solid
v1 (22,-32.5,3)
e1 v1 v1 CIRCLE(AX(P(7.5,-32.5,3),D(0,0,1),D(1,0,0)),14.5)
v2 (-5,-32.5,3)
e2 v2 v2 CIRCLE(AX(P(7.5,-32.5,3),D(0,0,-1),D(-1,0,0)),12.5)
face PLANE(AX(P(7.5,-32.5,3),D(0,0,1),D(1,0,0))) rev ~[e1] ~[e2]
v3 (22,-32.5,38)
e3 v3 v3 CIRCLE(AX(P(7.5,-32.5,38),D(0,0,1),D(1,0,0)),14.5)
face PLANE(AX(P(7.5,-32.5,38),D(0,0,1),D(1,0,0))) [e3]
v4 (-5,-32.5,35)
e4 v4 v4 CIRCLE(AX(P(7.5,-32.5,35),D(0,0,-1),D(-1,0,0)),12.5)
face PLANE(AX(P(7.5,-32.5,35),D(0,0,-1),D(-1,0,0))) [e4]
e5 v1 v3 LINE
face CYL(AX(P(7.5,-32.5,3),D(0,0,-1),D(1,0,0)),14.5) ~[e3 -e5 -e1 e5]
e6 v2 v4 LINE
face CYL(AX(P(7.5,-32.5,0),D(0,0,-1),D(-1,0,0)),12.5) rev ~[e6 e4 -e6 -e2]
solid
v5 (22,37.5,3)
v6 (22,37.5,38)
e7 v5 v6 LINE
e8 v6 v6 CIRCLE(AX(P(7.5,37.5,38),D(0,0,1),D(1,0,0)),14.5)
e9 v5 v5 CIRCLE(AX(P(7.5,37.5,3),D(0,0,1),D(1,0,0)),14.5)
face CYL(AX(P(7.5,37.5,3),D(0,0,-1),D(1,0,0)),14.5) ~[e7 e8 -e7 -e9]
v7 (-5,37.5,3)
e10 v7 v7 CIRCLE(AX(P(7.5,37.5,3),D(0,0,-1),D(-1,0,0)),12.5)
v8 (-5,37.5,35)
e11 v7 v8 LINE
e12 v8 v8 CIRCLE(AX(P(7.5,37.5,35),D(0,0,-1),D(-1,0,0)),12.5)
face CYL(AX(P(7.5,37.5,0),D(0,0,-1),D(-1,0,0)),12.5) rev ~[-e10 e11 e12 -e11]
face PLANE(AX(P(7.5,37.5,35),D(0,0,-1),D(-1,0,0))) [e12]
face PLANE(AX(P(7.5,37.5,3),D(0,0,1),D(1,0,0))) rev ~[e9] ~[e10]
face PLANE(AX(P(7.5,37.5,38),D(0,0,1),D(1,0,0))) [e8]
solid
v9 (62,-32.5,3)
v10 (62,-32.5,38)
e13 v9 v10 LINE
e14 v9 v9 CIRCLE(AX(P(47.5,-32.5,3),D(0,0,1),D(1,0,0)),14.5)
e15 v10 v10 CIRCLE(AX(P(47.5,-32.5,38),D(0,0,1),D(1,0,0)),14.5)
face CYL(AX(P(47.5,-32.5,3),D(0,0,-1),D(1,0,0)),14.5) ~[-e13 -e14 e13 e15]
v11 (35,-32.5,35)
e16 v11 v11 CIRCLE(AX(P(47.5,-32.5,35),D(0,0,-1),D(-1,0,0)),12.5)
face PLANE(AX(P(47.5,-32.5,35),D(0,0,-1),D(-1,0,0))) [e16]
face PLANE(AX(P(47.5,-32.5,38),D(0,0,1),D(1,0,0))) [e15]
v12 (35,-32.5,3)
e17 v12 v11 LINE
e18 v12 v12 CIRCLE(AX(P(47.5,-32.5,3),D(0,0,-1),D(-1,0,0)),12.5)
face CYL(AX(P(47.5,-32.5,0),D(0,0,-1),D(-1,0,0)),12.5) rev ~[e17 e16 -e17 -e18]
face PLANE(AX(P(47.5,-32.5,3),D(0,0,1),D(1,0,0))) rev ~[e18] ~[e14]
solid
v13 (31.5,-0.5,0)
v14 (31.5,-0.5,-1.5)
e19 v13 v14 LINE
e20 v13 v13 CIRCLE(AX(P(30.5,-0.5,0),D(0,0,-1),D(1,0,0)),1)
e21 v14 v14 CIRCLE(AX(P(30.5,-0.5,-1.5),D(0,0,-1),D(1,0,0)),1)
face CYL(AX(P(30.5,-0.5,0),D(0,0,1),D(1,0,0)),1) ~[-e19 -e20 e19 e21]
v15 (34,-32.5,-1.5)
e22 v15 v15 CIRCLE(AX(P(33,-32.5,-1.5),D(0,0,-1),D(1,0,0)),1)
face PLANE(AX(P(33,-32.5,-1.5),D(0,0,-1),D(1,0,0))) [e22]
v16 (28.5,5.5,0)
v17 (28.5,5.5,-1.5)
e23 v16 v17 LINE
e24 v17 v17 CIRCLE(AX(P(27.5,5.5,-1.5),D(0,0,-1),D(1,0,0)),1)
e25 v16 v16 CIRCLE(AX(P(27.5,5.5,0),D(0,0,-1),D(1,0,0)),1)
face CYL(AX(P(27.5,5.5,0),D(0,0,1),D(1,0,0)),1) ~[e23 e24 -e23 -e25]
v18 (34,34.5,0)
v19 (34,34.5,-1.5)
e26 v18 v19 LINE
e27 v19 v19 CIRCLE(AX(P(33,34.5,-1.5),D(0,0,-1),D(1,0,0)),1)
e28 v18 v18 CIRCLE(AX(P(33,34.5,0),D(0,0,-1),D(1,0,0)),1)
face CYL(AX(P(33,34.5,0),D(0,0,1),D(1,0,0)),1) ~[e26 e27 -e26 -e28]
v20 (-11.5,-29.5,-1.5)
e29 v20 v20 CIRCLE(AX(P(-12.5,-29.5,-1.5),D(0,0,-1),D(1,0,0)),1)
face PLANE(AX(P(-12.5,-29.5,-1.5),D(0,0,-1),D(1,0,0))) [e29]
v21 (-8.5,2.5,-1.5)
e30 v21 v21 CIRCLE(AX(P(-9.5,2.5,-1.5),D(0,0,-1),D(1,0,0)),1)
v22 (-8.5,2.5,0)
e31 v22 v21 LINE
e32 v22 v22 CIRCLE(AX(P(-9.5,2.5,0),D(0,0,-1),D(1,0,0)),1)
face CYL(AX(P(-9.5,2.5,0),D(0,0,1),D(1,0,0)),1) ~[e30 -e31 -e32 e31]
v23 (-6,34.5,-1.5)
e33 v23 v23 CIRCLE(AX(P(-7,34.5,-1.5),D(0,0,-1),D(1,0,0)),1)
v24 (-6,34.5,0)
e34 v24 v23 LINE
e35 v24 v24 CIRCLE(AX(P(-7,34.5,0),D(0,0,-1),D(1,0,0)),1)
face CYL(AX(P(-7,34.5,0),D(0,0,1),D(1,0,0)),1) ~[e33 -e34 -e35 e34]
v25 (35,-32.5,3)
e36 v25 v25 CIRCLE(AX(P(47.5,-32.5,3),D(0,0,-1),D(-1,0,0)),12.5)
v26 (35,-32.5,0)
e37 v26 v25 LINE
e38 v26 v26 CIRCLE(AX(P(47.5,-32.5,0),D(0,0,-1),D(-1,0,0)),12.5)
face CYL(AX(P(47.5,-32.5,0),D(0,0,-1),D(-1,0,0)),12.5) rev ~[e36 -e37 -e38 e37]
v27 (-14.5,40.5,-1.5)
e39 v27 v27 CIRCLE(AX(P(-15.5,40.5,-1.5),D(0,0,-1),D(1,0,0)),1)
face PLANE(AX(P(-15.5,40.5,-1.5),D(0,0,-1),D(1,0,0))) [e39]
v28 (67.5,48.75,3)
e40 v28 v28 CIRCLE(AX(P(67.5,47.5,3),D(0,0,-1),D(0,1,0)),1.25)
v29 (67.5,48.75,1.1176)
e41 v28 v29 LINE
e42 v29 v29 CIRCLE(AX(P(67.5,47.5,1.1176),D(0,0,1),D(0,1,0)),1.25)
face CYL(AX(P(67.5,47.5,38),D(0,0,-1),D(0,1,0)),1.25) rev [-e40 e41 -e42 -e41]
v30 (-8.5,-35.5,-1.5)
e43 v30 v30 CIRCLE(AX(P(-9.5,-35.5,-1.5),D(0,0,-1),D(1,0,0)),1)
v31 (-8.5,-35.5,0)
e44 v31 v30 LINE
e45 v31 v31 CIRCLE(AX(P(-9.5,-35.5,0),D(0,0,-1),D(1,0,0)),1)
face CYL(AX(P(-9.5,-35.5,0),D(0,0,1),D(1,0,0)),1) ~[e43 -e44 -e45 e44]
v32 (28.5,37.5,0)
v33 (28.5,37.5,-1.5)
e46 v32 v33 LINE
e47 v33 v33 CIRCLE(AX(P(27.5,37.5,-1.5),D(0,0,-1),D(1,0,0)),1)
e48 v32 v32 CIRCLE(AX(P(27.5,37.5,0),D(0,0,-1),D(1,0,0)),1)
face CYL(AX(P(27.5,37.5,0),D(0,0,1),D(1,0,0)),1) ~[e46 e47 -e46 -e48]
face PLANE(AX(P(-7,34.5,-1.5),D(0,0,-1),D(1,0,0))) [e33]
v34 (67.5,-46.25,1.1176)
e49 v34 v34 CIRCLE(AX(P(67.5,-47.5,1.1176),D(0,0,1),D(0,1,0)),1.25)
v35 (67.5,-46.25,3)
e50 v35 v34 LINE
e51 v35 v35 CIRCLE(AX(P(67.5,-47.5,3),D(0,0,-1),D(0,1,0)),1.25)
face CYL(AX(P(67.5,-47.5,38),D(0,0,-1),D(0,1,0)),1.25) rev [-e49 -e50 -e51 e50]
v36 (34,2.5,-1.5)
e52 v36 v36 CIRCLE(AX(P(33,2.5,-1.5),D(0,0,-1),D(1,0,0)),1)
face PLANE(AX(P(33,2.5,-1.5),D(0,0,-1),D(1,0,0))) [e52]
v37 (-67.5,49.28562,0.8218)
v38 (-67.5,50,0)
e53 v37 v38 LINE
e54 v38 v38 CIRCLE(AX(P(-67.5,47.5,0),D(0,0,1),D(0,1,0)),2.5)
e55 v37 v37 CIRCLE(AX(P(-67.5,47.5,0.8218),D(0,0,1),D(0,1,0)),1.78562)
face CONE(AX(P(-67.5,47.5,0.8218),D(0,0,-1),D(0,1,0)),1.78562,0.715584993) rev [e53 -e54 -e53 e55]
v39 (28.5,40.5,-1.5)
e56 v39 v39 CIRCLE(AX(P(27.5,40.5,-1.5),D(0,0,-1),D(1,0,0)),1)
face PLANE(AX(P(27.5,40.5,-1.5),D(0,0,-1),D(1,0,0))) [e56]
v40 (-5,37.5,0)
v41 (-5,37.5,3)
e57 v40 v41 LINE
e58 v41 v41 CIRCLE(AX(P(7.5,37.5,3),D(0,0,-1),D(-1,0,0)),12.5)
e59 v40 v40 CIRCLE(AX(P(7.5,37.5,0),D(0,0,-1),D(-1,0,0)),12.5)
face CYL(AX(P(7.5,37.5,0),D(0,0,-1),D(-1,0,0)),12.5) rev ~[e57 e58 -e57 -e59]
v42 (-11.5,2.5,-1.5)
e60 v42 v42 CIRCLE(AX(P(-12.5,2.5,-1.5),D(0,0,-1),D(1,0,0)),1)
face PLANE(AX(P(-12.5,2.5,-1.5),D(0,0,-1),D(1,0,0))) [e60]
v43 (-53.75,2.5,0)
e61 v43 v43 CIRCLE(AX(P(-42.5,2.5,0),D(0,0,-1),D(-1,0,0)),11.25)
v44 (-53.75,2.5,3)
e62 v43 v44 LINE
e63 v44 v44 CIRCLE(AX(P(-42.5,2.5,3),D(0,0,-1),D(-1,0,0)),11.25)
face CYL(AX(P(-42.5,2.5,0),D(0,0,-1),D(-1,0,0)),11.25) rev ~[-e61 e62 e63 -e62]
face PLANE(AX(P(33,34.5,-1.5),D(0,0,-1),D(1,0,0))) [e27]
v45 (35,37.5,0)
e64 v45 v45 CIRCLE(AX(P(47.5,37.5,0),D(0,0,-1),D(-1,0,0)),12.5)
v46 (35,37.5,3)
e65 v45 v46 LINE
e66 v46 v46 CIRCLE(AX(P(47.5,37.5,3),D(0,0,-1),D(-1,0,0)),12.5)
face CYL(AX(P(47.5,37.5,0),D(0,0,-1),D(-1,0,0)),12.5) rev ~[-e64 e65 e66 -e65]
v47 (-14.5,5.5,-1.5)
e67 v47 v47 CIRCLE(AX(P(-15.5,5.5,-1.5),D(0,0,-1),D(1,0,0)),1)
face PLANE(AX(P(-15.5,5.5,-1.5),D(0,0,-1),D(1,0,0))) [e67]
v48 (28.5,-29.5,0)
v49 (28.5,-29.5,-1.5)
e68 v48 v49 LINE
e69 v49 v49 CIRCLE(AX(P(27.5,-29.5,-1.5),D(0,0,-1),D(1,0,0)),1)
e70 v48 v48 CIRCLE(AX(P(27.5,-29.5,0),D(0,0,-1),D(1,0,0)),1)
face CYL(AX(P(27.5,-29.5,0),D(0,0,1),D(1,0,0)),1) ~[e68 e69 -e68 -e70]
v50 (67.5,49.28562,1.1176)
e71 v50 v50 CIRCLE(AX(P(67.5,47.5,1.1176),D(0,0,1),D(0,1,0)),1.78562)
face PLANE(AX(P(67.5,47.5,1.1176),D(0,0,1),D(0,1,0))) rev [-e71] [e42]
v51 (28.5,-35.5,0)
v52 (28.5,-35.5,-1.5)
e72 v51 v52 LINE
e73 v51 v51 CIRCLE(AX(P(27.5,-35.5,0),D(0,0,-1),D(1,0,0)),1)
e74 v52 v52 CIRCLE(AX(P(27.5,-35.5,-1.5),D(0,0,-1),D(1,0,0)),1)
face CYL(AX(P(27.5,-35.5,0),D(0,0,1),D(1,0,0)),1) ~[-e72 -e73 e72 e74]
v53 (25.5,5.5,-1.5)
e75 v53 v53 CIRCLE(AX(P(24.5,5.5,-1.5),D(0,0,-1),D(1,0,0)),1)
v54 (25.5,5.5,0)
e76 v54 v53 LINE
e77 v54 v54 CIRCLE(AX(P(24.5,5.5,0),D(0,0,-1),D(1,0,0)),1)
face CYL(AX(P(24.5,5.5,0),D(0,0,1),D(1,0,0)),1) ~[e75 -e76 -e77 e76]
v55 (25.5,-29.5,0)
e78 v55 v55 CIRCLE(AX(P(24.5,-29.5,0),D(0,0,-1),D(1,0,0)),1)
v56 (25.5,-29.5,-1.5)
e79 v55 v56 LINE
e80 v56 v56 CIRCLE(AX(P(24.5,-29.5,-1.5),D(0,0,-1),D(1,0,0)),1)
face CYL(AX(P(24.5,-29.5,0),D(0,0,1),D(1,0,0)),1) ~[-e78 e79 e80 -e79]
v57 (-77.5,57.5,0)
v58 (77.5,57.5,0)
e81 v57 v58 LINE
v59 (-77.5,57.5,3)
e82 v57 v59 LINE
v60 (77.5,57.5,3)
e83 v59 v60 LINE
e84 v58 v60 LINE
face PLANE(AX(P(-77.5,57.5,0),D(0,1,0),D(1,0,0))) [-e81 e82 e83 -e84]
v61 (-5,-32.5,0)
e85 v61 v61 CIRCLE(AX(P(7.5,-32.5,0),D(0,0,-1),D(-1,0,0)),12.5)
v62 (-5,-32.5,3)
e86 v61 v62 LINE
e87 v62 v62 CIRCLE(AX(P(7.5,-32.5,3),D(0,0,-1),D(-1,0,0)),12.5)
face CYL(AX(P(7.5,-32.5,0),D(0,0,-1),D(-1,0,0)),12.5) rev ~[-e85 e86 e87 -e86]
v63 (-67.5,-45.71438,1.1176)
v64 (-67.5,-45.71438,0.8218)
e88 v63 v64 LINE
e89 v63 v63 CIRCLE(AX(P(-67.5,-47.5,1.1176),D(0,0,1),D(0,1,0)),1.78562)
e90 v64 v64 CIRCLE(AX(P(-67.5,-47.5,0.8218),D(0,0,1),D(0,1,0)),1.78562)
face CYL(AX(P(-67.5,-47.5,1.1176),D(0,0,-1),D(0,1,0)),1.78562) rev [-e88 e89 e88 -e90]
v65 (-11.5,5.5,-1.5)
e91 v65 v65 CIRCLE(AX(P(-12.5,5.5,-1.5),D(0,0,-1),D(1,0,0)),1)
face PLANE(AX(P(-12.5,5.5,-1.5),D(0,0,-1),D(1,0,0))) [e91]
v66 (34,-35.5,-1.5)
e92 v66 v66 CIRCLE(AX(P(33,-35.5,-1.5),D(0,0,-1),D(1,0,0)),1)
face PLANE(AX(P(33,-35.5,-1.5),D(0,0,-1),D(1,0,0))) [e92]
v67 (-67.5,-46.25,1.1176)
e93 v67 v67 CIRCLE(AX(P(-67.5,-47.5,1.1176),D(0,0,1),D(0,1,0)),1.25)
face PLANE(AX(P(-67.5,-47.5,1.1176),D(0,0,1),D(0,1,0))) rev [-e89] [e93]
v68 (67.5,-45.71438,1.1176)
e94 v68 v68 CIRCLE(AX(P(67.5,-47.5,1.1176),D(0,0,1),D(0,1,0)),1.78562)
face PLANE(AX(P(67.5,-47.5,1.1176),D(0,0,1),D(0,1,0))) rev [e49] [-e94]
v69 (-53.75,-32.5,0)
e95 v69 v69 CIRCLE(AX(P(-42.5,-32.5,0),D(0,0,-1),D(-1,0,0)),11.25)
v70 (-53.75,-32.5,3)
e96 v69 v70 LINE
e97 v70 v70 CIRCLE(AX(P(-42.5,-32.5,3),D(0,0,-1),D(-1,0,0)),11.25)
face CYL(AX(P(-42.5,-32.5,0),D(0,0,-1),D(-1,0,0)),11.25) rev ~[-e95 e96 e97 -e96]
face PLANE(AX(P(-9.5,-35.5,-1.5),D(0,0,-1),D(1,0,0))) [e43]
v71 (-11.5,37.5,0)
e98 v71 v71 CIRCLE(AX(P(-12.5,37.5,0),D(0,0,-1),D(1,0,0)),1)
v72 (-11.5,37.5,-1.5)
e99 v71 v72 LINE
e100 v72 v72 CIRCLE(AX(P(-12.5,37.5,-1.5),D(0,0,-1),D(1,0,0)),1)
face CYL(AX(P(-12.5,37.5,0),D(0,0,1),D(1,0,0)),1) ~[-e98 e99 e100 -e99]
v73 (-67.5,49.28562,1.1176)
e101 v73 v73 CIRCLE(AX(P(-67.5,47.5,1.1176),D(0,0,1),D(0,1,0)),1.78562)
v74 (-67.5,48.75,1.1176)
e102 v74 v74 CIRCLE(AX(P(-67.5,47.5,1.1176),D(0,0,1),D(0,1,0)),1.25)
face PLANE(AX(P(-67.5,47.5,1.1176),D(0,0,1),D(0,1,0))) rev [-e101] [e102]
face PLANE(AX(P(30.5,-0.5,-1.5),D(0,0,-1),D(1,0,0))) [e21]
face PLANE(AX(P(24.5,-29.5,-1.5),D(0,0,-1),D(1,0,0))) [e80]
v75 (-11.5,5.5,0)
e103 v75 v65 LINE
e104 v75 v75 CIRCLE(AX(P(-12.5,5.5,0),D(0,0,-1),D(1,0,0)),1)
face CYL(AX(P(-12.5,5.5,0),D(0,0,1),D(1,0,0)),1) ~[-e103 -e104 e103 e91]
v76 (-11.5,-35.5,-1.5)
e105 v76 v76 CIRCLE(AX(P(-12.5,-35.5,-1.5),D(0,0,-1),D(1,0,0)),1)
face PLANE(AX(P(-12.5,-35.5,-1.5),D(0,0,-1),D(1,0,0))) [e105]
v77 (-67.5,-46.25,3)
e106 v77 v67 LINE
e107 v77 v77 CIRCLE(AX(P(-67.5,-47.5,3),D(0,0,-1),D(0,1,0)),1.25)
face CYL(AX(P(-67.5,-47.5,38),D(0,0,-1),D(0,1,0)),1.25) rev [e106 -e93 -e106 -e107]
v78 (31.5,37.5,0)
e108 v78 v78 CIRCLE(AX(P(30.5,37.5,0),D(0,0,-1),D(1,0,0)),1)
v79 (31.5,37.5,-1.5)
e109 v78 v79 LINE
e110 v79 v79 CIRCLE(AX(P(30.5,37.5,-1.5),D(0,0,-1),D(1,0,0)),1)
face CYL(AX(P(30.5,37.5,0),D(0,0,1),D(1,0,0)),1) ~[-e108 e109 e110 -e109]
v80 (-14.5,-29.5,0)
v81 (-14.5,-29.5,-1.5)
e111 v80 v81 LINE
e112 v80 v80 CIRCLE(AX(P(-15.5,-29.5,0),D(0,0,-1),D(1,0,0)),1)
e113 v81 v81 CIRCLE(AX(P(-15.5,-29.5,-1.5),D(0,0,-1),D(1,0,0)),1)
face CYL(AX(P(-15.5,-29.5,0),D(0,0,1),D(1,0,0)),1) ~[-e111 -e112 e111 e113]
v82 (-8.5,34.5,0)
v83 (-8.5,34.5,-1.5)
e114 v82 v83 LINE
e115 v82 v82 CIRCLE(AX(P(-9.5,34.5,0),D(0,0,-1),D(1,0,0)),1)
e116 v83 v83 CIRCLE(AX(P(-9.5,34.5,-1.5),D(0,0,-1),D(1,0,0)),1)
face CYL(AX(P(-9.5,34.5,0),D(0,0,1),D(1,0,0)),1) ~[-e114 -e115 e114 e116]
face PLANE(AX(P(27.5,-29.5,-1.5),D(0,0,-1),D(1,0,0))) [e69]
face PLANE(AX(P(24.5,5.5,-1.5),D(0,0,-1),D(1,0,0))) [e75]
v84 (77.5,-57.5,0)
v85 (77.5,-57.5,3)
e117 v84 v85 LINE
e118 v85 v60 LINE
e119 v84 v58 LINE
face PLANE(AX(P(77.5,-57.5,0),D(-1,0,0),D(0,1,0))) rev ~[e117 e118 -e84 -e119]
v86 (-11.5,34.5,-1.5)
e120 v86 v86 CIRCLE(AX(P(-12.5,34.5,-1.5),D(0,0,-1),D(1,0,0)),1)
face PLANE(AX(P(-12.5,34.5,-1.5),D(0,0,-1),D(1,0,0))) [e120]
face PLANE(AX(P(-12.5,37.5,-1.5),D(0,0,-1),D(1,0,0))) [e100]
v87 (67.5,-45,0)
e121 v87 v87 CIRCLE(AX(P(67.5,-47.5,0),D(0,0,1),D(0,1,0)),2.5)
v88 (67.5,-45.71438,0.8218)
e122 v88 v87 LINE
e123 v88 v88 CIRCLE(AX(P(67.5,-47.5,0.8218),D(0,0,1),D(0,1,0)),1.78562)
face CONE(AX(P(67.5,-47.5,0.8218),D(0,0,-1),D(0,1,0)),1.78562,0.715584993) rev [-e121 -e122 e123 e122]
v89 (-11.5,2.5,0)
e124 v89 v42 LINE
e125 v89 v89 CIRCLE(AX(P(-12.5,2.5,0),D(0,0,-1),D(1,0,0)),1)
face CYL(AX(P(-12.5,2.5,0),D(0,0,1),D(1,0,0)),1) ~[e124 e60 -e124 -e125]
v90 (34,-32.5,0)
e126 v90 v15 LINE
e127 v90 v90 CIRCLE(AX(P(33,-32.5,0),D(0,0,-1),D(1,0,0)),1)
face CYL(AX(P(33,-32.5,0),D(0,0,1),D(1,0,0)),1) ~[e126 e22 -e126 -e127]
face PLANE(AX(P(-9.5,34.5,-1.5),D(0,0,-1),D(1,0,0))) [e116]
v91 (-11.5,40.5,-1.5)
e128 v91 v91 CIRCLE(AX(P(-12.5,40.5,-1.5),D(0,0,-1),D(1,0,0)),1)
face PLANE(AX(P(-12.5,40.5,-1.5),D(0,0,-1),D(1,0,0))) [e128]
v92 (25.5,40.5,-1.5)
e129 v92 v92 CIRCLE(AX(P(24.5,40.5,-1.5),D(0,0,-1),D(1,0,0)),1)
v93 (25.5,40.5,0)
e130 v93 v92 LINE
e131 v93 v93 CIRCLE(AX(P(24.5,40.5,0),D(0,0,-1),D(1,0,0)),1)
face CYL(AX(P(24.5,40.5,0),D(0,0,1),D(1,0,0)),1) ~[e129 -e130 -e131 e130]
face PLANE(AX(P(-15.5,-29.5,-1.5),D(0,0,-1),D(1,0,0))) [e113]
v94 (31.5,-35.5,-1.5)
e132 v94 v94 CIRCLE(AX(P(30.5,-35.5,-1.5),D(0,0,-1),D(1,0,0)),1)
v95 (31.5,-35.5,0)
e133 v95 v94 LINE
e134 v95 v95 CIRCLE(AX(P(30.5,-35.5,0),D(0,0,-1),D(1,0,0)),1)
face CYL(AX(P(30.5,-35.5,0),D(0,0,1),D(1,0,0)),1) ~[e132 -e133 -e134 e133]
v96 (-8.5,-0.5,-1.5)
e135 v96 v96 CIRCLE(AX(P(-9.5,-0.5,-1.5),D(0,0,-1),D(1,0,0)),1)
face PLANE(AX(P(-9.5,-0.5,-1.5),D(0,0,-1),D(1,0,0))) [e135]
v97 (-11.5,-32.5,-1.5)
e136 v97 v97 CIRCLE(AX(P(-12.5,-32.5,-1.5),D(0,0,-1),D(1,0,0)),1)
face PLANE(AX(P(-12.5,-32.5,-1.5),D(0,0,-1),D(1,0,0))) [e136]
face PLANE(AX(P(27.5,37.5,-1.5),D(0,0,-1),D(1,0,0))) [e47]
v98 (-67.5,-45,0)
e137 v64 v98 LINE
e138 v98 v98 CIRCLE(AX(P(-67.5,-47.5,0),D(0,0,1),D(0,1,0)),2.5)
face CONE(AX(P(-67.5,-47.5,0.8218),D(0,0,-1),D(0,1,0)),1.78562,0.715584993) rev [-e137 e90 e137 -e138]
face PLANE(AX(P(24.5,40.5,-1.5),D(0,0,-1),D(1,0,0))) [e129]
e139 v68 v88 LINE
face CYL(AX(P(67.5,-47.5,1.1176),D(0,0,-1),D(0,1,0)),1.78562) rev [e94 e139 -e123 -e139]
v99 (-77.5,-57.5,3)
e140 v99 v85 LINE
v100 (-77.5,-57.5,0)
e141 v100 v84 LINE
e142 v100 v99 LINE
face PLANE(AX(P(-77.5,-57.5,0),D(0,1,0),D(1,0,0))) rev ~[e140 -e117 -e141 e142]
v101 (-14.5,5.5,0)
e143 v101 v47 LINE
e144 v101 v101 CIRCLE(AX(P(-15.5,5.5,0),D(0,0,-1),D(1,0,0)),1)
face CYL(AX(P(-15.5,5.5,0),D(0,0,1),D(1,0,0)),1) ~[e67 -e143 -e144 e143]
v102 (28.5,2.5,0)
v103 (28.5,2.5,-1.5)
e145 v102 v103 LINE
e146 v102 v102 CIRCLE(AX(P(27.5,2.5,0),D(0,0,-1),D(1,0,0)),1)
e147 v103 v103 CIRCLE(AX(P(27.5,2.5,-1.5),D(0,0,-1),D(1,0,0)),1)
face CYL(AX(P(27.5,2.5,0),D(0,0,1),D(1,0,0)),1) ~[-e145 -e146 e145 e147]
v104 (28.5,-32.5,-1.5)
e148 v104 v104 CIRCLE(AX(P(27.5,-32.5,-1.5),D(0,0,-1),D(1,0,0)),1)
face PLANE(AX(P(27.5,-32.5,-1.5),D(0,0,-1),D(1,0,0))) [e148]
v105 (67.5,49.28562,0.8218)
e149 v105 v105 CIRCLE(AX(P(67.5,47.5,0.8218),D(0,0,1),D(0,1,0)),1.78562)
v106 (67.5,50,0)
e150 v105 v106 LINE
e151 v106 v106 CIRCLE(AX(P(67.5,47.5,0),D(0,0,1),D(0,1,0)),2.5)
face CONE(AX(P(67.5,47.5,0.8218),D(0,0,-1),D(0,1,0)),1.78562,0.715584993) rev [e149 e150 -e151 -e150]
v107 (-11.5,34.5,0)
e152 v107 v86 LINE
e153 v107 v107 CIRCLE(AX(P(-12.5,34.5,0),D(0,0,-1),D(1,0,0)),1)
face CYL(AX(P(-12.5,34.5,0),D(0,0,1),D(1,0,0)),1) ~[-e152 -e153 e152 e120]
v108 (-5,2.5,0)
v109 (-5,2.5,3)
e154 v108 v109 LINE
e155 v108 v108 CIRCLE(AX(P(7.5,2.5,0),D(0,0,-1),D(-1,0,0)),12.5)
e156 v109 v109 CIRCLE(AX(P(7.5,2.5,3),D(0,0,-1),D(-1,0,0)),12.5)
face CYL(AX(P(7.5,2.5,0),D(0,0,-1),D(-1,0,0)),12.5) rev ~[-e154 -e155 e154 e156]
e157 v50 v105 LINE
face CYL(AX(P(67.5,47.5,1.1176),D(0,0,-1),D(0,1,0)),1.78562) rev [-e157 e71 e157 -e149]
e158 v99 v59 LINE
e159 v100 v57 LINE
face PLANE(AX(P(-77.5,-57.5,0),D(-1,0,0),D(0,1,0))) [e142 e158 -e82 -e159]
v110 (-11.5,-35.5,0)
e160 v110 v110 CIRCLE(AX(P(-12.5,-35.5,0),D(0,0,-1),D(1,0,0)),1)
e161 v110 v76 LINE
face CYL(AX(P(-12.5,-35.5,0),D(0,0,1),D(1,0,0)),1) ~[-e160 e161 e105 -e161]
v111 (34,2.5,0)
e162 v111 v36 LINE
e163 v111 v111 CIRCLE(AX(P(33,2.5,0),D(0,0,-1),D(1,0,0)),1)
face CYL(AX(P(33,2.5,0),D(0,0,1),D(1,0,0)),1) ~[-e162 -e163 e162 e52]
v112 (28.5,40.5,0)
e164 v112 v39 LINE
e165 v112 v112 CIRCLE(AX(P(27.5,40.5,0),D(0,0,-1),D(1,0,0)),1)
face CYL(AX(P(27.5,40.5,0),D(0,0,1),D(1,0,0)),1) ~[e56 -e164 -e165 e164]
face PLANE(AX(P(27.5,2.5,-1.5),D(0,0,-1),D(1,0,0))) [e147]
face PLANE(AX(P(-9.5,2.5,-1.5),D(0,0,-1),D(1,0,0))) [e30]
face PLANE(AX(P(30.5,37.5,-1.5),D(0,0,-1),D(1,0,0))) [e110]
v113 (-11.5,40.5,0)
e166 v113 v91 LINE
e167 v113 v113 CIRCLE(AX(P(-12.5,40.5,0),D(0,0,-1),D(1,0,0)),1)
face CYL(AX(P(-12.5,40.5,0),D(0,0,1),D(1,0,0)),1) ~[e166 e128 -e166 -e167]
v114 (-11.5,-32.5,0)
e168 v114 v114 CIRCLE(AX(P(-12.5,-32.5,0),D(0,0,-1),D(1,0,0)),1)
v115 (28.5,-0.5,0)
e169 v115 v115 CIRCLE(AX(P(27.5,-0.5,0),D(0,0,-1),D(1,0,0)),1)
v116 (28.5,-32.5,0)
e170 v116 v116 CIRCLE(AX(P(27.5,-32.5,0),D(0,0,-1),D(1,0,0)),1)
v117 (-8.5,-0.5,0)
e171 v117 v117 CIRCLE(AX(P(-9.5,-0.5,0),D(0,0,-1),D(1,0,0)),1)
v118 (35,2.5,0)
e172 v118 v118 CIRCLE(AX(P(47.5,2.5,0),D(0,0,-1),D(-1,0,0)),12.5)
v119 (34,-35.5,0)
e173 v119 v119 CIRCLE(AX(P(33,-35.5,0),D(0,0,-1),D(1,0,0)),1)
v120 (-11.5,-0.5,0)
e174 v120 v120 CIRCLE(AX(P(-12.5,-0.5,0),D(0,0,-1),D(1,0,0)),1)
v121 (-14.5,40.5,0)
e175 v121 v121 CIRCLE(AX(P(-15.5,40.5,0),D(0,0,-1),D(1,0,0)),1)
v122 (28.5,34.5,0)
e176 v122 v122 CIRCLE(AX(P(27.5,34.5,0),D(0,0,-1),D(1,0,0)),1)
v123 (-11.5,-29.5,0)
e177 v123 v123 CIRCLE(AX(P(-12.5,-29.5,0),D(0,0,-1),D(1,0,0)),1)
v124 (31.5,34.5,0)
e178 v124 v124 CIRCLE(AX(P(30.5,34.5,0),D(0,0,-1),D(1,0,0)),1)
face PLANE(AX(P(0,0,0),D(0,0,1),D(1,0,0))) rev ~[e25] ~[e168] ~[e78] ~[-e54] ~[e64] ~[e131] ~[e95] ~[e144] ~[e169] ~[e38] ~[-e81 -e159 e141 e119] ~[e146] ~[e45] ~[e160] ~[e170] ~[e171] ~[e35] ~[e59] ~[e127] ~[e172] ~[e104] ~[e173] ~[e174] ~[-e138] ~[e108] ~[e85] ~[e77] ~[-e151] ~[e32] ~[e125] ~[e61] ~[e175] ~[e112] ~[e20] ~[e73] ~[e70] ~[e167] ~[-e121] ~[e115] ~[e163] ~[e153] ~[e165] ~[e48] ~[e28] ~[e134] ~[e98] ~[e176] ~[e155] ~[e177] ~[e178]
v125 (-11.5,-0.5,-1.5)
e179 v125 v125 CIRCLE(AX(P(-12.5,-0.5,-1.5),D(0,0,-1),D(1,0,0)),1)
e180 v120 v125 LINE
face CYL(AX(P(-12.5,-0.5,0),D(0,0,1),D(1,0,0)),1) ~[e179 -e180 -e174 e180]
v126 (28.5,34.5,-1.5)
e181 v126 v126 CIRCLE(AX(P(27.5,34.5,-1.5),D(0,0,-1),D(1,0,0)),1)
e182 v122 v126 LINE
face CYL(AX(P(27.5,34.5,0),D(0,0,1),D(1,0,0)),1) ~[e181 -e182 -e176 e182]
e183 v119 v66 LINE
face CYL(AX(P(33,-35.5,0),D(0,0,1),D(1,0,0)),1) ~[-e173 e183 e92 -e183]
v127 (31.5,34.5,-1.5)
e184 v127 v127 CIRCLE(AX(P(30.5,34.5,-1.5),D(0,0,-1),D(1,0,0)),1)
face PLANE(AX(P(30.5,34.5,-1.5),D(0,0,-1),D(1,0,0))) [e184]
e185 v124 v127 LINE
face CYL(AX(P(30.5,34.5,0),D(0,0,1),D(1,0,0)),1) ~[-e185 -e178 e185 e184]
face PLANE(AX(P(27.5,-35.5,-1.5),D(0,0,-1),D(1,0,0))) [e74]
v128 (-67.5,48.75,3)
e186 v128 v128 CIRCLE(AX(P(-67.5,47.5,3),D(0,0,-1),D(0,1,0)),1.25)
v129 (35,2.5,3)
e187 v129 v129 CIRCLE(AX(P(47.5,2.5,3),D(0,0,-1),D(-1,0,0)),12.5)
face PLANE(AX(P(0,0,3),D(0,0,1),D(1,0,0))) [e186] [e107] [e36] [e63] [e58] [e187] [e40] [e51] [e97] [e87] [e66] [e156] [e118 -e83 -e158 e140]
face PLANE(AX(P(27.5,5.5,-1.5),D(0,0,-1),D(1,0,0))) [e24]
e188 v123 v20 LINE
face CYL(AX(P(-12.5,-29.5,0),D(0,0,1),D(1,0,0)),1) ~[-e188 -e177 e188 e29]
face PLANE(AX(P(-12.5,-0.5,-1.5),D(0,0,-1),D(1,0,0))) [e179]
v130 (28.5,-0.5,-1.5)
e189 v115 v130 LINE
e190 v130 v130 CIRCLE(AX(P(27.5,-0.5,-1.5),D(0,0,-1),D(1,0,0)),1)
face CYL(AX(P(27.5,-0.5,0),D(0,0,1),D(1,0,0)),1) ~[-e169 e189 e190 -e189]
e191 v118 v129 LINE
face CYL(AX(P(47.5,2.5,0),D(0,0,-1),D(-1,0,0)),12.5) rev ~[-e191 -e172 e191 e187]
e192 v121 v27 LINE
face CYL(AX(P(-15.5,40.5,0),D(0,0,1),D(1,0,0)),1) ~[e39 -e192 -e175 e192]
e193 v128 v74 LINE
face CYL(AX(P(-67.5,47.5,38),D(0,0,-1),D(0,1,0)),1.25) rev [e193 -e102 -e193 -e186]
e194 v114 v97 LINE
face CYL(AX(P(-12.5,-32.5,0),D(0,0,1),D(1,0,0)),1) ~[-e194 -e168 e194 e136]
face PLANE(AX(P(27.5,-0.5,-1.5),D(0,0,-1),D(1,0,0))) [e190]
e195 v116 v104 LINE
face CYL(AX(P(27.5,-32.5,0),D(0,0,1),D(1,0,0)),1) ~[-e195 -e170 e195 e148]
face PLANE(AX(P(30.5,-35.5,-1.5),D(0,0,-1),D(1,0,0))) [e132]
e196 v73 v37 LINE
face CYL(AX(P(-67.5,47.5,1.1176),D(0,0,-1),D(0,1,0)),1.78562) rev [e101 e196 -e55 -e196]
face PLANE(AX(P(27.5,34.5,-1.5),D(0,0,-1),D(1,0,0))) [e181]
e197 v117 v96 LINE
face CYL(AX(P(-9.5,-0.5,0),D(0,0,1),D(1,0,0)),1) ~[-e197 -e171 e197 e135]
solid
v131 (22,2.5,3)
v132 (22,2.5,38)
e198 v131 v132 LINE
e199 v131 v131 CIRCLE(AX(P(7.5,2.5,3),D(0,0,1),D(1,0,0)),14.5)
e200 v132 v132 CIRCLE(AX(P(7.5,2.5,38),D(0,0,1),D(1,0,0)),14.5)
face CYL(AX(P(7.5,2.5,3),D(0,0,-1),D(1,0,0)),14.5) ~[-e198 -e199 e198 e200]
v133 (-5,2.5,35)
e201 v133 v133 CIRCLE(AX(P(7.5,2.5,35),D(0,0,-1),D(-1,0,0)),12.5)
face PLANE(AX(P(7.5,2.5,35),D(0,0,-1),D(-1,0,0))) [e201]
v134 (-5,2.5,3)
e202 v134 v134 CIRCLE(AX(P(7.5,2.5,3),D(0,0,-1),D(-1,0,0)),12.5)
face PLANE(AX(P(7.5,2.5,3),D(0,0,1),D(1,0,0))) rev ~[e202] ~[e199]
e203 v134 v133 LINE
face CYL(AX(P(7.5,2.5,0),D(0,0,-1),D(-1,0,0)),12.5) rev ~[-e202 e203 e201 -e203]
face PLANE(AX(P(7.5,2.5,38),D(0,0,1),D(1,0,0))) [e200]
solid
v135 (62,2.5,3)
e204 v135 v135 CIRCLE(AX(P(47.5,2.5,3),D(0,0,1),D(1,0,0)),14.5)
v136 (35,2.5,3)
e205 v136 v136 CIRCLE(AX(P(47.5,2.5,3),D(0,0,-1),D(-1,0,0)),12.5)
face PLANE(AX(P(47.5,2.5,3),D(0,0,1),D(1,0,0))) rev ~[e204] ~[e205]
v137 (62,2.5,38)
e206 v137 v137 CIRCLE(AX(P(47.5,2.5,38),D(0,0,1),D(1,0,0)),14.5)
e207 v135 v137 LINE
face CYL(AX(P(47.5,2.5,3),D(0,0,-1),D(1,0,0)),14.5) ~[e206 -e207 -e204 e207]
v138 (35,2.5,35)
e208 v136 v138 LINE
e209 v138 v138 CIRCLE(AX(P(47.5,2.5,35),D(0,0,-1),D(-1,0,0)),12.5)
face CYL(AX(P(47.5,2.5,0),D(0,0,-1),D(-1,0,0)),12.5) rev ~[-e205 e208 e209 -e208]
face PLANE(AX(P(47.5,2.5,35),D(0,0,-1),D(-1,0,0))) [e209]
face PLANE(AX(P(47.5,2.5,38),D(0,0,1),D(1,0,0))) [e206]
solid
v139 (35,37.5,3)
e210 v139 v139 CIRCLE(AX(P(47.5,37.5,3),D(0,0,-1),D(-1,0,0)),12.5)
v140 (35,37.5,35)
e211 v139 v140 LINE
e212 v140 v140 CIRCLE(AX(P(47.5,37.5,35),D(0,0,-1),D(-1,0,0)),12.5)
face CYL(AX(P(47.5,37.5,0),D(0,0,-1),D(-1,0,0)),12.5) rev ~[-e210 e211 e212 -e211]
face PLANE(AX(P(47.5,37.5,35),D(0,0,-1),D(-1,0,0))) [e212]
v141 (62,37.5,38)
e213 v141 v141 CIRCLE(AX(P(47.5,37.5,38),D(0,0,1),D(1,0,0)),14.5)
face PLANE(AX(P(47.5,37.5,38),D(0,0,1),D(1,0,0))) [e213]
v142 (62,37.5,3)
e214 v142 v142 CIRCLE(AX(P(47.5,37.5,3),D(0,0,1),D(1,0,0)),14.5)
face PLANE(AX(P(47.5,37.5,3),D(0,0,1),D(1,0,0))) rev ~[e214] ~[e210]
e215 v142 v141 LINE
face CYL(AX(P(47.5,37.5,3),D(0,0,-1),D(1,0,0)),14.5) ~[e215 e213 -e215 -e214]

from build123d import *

# Parameters (mm, degrees)
ESBO_O1_W                                    = 155
ESBO_O1_H                                    = 115
RESSALTO_EXTRUS_O1_DEPTH                     = 3
ESBO_O12_R                                   = 14.5
RESSALTO_EXTRUS_O14_DEPTH                    = 35
RESSALTO_EXTRUS_O14_2_DEPTH                  = 35
RESSALTO_EXTRUS_O14_3_DEPTH                  = 35
RESSALTO_EXTRUS_O14_4_DEPTH                  = 35
RESSALTO_EXTRUS_O14_5_DEPTH                  = 35
RESSALTO_EXTRUS_O14_6_DEPTH                  = 35
ESBO_O11_R                                   = 12.5
CORTE_EXTRUS_O8_DEPTH                        = 35
ESBO_O11_5_R                                 = 12.5
CORTE_EXTRUS_O9_DEPTH                        = 35
REBAIXO_PARA_PARAFUSO_DE_M_QUINA_COM_2_COUNT = 2
REBAIXO_PARA_PARAFUSO_DE_M_QUINA_COM_2_PITCH = 95
REBAIXO_PARA_PARAFUSO_DE_M_QUINA_COM_3_COUNT = 2
REBAIXO_PARA_PARAFUSO_DE_M_QUINA_COM_3_PITCH = 165.075740192
REBAIXO_PARA_PARAFUSO_DE_M_QUINA_COM_4_COUNT = 2
REBAIXO_PARA_PARAFUSO_DE_M_QUINA_COM_4_PITCH = 135
ESBO_O13_R                                   = 11.25
BOT_ES_DEPTH                                 = 3
ESBO_O29_R                                   = 1
PINO_1_DEPTH                                 = 1.5
ESBO_O28_R                                   = 1
PINO_2_DEPTH                                 = 1.5
SKETCH_3_R                                   = 1
PINO_3_DEPTH                                 = 1.5
SKETCH_4_R                                   = 1
PINO_4_DEPTH                                 = 1.5
SKETCH_5_R                                   = 1
PINO_5_DEPTH                                 = 1.5
SKETCH_6_R                                   = 1
PINO_6_DEPTH                                 = 1.5


with BuildPart() as part:
    # Esboço1 → Ressalto-extrusão1 (new body)
    with BuildSketch(Plane.XY):
        Rectangle(ESBO_O1_W, ESBO_O1_H)
    extrude(amount=RESSALTO_EXTRUS_O1_DEPTH)


with BuildPart() as body_2:
    # Esboço12 → Ressalto-extrusão14 (new body)
    with BuildSketch(Plane.XY.offset(3)):
        with Locations((7.5, 37.5)):
            Circle(ESBO_O12_R)
    extrude(amount=RESSALTO_EXTRUS_O14_DEPTH)


with BuildPart() as body_3:
    # Esboço12 → Ressalto-extrus_o14 2 (new body)
    with BuildSketch(Plane.XY.offset(3)):
        with Locations((47.5, 37.5)):
            Circle(ESBO_O12_R)
    extrude(amount=RESSALTO_EXTRUS_O14_2_DEPTH)


with BuildPart() as body_4:
    # Esboço12 → Ressalto-extrus_o14 3 (new body)
    with BuildSketch(Plane.XY.offset(3)):
        with Locations((7.5, 2.5)):
            Circle(ESBO_O12_R)
    extrude(amount=RESSALTO_EXTRUS_O14_3_DEPTH)


with BuildPart() as body_5:
    # Esboço12 → Ressalto-extrus_o14 4 (new body)
    with BuildSketch(Plane.XY.offset(3)):
        with Locations((47.5, 2.5)):
            Circle(ESBO_O12_R)
    extrude(amount=RESSALTO_EXTRUS_O14_4_DEPTH)


with BuildPart() as body_6:
    # Esboço12 → Ressalto-extrus_o14 5 (new body)
    with BuildSketch(Plane.XY.offset(3)):
        with Locations((47.5, -32.5)):
            Circle(ESBO_O12_R)
    extrude(amount=RESSALTO_EXTRUS_O14_5_DEPTH)


with BuildPart() as body_7:
    # Esboço12 → Ressalto-extrus_o14 6 (new body)
    with BuildSketch(Plane.XY.offset(3)):
        with Locations((7.5, -32.5)):
            Circle(ESBO_O12_R)
    extrude(amount=RESSALTO_EXTRUS_O14_6_DEPTH)


with BuildPart() as corte_extrus_o8_tool:
    # Esboço11 → Corte-extrusão8 (new body)
    with BuildSketch(Plane(origin=(0, 0, 0), x_dir=(-1, 0, 0), z_dir=(0, 0, -1))):
        with Locations((-47.5, 37.5)):
            Circle(ESBO_O11_R)
    extrude(amount=-CORTE_EXTRUS_O8_DEPTH)


with BuildPart() as part_1:
    add(part.part)

    # Corte-extrusão8: cut by corte_extrus_o8_tool
    add(corte_extrus_o8_tool.part, mode=Mode.SUBTRACT)


with BuildPart() as body_3_1:
    add(body_3.part)

    # Corte-extrusão8: cut by corte_extrus_o8_tool
    add(corte_extrus_o8_tool.part, mode=Mode.SUBTRACT)


with BuildPart() as corte_extrus_o9_tool:
    # Esboço11<5> → Corte-extrusão9 (new body)
    with BuildSketch(Plane(origin=(0, 0, 0), x_dir=(-1, 0, 0), z_dir=(0, 0, -1))):
        with Locations((-7.5, -32.5)):
            Circle(ESBO_O11_5_R)
        with Locations((-47.5, -32.5)):
            Circle(ESBO_O11_5_R)
        with Locations((-47.5, 2.5)):
            Circle(ESBO_O11_5_R)
        with Locations((-7.5, 37.5)):
            Circle(ESBO_O11_5_R)
        with Locations((-7.5, 2.5)):
            Circle(ESBO_O11_5_R)
    extrude(amount=-CORTE_EXTRUS_O9_DEPTH)


with BuildPart() as part_2:
    add(part_1.part)

    # Corte-extrusão9: cut by corte_extrus_o9_tool
    add(corte_extrus_o9_tool.part, mode=Mode.SUBTRACT)

    # Esboço15 → Rebaixo para parafuso de máquina com cabeça panela de #01 (revolve, cut)
    with BuildSketch(Plane(origin=(-67.5, -47.5, 0), x_dir=(0, 1, 0), z_dir=(1, 0, 0))):
        Polygon((0, 0), (0, 38), (1.25, 38), (1.25, 1.1176), (1.78562, 1.1176), (1.78562, 0.821800183), (2.5, 0), align=None)
    rebaixo_para_parafuso_de_m_quina_com_cab = revolve(axis=Axis((-67.5, -47.5, -6.35), (0, 0, 1)), mode=Mode.SUBTRACT)

    # Rebaixo para parafuso de m_quina com 2: Rebaixo para parafuso de máquina com cabeça panela de #01 ×2
    with Locations(*[(0, i * REBAIXO_PARA_PARAFUSO_DE_M_QUINA_COM_2_PITCH, 0) for i in range(1, REBAIXO_PARA_PARAFUSO_DE_M_QUINA_COM_2_COUNT)]):
        add(rebaixo_para_parafuso_de_m_quina_com_cab, mode=Mode.SUBTRACT)

    # Rebaixo para parafuso de m_quina com 3: Rebaixo para parafuso de máquina com cabeça panela de #01 ×2
    with Locations(*[Vector(0.8178064193007666, 0.5754934061746136, 0) * (i * REBAIXO_PARA_PARAFUSO_DE_M_QUINA_COM_3_PITCH) for i in range(1, REBAIXO_PARA_PARAFUSO_DE_M_QUINA_COM_3_COUNT)]):
        add(rebaixo_para_parafuso_de_m_quina_com_cab, mode=Mode.SUBTRACT)

    # Rebaixo para parafuso de m_quina com 4: Rebaixo para parafuso de máquina com cabeça panela de #01 ×2
    with Locations(*[(i * REBAIXO_PARA_PARAFUSO_DE_M_QUINA_COM_4_PITCH, 0, 0) for i in range(1, REBAIXO_PARA_PARAFUSO_DE_M_QUINA_COM_4_COUNT)]):
        add(rebaixo_para_parafuso_de_m_quina_com_cab, mode=Mode.SUBTRACT)

    # Esboço13 → Botões (cut)
    with BuildSketch(Plane(origin=(0, 0, 0), x_dir=(-1, 0, 0), z_dir=(0, 0, -1))):
        with Locations((42.5, -32.5)):
            Circle(ESBO_O13_R)
        with Locations((42.5, 2.5)):
            Circle(ESBO_O13_R)
    extrude(amount=-BOT_ES_DEPTH, mode=Mode.SUBTRACT)

    # Esboço29 → Pino 1 (add)
    with BuildSketch(Plane(origin=(0, 0, 0), x_dir=(-1, 0, 0), z_dir=(0, 0, -1))):
        with Locations(Location((12.5, -35.5, 0), (0, 0, 180))):
            Circle(ESBO_O29_R)
        with Locations(Location((12.5, -32.5, 0), (0, 0, 180))):
            Circle(ESBO_O29_R)
        with Locations(Location((12.5, -29.5, 0), (0, 0, 180))):
            Circle(ESBO_O29_R)
        with Locations(Location((15.5, -29.5, 0), (0, 0, 180))):
            Circle(ESBO_O29_R)
        with Locations(Location((9.5, -35.5, 0), (0, 0, 180))):
            Circle(ESBO_O29_R)
    extrude(amount=PINO_1_DEPTH)

    # Esboço28 → Pino 2 (add)
    with BuildSketch(Plane(origin=(0, 0, 0), x_dir=(-1, 0, 0), z_dir=(0, 0, -1))):
        with Locations(Location((12.5, -0.5, 0), (0, 0, 180))):
            Circle(ESBO_O28_R)
        with Locations(Location((12.5, 2.5, 0), (0, 0, 180))):
            Circle(ESBO_O28_R)
        with Locations(Location((12.5, 5.5, 0), (0, 0, 180))):
            Circle(ESBO_O28_R)
        with Locations(Location((15.5, 5.5, 0), (0, 0, 180))):
            Circle(ESBO_O28_R)
        with Locations(Location((9.5, 2.5, 0), (0, 0, 180))):
            Circle(ESBO_O28_R)
        with Locations(Location((9.5, -0.5, 0), (0, 0, 180))):
            Circle(ESBO_O28_R)
    extrude(amount=PINO_2_DEPTH)

    # 3 → Pino 3 (add)
    with BuildSketch(Plane(origin=(0, 0, 0), x_dir=(-1, 0, 0), z_dir=(0, 0, -1))):
        with Locations(Location((12.5, 34.5, 0), (0, 0, 180))):
            Circle(SKETCH_3_R)
        with Locations(Location((12.5, 37.5, 0), (0, 0, 180))):
            Circle(SKETCH_3_R)
        with Locations(Location((12.5, 40.5, 0), (0, 0, 180))):
            Circle(SKETCH_3_R)
        with Locations(Location((15.5, 40.5, 0), (0, 0, 180))):
            Circle(SKETCH_3_R)
        with Locations(Location((7, 34.5, 0), (0, 0, 180))):
            Circle(SKETCH_3_R)
        with Locations(Location((9.5, 34.5, 0), (0, 0, 180))):
            Circle(SKETCH_3_R)
    extrude(amount=PINO_3_DEPTH)

    # 4 → Pino 4 (add)
    with BuildSketch(Plane(origin=(0, 0, 0), x_dir=(-1, 0, 0), z_dir=(0, 0, -1))):
        with Locations(Location((-27.5, -35.5, 0), (0, 0, 180))):
            Circle(SKETCH_4_R)
        with Locations(Location((-27.5, -32.5, 0), (0, 0, 180))):
            Circle(SKETCH_4_R)
        with Locations(Location((-27.5, -29.5, 0), (0, 0, 180))):
            Circle(SKETCH_4_R)
        with Locations(Location((-24.5, -29.5, 0), (0, 0, 180))):
            Circle(SKETCH_4_R)
        with Locations(Location((-33, -35.5, 0), (0, 0, 180))):
            Circle(SKETCH_4_R)
        with Locations(Location((-30.5, -35.5, 0), (0, 0, 180))):
            Circle(SKETCH_4_R)
        with Locations(Location((-33, -32.5, 0), (0, 0, 180))):
            Circle(SKETCH_4_R)
    extrude(amount=PINO_4_DEPTH)

    # 5 → Pino 5 (add)
    with BuildSketch(Plane(origin=(0, 0, 0), x_dir=(-1, 0, 0), z_dir=(0, 0, -1))):
        with Locations(Location((-27.5, -0.5, 0), (0, 0, 180))):
            Circle(SKETCH_5_R)
        with Locations(Location((-27.5, 2.5, 0), (0, 0, 180))):
            Circle(SKETCH_5_R)
        with Locations(Location((-27.5, 5.5, 0), (0, 0, 180))):
            Circle(SKETCH_5_R)
        with Locations(Location((-24.5, 5.5, 0), (0, 0, 180))):
            Circle(SKETCH_5_R)
        with Locations(Location((-30.5, -0.5, 0), (0, 0, 180))):
            Circle(SKETCH_5_R)
        with Locations(Location((-33, 2.5, 0), (0, 0, 180))):
            Circle(SKETCH_5_R)
    extrude(amount=PINO_5_DEPTH)

    # 6 → Pino 6 (add)
    with BuildSketch(Plane(origin=(0, 0, 0), x_dir=(-1, 0, 0), z_dir=(0, 0, -1))):
        with Locations(Location((-27.5, 34.5, 0), (0, 0, 180))):
            Circle(SKETCH_6_R)
        with Locations(Location((-27.5, 37.5, 0), (0, 0, 180))):
            Circle(SKETCH_6_R)
        with Locations(Location((-27.5, 40.5, 0), (0, 0, 180))):
            Circle(SKETCH_6_R)
        with Locations(Location((-24.5, 40.5, 0), (0, 0, 180))):
            Circle(SKETCH_6_R)
        with Locations(Location((-33, 34.5, 0), (0, 0, 180))):
            Circle(SKETCH_6_R)
        with Locations(Location((-30.5, 34.5, 0), (0, 0, 180))):
            Circle(SKETCH_6_R)
        with Locations(Location((-30.5, 37.5, 0), (0, 0, 180))):
            Circle(SKETCH_6_R)
    extrude(amount=PINO_6_DEPTH)


with BuildPart() as body_2_1:
    add(body_2.part)

    # Corte-extrusão9: cut by corte_extrus_o9_tool
    add(corte_extrus_o9_tool.part, mode=Mode.SUBTRACT)


with BuildPart() as body_4_1:
    add(body_4.part)

    # Corte-extrusão9: cut by corte_extrus_o9_tool
    add(corte_extrus_o9_tool.part, mode=Mode.SUBTRACT)


with BuildPart() as body_5_1:
    add(body_5.part)

    # Corte-extrusão9: cut by corte_extrus_o9_tool
    add(corte_extrus_o9_tool.part, mode=Mode.SUBTRACT)


with BuildPart() as body_6_1:
    add(body_6.part)

    # Corte-extrusão9: cut by corte_extrus_o9_tool
    add(corte_extrus_o9_tool.part, mode=Mode.SUBTRACT)


with BuildPart() as body_7_1:
    add(body_7.part)

    # Corte-extrusão9: cut by corte_extrus_o9_tool
    add(corte_extrus_o9_tool.part, mode=Mode.SUBTRACT)


solid = Compound([body_3_1.part, part_2.part, body_2_1.part, body_4_1.part, body_5_1.part, body_6_1.part, body_7_1.part])
